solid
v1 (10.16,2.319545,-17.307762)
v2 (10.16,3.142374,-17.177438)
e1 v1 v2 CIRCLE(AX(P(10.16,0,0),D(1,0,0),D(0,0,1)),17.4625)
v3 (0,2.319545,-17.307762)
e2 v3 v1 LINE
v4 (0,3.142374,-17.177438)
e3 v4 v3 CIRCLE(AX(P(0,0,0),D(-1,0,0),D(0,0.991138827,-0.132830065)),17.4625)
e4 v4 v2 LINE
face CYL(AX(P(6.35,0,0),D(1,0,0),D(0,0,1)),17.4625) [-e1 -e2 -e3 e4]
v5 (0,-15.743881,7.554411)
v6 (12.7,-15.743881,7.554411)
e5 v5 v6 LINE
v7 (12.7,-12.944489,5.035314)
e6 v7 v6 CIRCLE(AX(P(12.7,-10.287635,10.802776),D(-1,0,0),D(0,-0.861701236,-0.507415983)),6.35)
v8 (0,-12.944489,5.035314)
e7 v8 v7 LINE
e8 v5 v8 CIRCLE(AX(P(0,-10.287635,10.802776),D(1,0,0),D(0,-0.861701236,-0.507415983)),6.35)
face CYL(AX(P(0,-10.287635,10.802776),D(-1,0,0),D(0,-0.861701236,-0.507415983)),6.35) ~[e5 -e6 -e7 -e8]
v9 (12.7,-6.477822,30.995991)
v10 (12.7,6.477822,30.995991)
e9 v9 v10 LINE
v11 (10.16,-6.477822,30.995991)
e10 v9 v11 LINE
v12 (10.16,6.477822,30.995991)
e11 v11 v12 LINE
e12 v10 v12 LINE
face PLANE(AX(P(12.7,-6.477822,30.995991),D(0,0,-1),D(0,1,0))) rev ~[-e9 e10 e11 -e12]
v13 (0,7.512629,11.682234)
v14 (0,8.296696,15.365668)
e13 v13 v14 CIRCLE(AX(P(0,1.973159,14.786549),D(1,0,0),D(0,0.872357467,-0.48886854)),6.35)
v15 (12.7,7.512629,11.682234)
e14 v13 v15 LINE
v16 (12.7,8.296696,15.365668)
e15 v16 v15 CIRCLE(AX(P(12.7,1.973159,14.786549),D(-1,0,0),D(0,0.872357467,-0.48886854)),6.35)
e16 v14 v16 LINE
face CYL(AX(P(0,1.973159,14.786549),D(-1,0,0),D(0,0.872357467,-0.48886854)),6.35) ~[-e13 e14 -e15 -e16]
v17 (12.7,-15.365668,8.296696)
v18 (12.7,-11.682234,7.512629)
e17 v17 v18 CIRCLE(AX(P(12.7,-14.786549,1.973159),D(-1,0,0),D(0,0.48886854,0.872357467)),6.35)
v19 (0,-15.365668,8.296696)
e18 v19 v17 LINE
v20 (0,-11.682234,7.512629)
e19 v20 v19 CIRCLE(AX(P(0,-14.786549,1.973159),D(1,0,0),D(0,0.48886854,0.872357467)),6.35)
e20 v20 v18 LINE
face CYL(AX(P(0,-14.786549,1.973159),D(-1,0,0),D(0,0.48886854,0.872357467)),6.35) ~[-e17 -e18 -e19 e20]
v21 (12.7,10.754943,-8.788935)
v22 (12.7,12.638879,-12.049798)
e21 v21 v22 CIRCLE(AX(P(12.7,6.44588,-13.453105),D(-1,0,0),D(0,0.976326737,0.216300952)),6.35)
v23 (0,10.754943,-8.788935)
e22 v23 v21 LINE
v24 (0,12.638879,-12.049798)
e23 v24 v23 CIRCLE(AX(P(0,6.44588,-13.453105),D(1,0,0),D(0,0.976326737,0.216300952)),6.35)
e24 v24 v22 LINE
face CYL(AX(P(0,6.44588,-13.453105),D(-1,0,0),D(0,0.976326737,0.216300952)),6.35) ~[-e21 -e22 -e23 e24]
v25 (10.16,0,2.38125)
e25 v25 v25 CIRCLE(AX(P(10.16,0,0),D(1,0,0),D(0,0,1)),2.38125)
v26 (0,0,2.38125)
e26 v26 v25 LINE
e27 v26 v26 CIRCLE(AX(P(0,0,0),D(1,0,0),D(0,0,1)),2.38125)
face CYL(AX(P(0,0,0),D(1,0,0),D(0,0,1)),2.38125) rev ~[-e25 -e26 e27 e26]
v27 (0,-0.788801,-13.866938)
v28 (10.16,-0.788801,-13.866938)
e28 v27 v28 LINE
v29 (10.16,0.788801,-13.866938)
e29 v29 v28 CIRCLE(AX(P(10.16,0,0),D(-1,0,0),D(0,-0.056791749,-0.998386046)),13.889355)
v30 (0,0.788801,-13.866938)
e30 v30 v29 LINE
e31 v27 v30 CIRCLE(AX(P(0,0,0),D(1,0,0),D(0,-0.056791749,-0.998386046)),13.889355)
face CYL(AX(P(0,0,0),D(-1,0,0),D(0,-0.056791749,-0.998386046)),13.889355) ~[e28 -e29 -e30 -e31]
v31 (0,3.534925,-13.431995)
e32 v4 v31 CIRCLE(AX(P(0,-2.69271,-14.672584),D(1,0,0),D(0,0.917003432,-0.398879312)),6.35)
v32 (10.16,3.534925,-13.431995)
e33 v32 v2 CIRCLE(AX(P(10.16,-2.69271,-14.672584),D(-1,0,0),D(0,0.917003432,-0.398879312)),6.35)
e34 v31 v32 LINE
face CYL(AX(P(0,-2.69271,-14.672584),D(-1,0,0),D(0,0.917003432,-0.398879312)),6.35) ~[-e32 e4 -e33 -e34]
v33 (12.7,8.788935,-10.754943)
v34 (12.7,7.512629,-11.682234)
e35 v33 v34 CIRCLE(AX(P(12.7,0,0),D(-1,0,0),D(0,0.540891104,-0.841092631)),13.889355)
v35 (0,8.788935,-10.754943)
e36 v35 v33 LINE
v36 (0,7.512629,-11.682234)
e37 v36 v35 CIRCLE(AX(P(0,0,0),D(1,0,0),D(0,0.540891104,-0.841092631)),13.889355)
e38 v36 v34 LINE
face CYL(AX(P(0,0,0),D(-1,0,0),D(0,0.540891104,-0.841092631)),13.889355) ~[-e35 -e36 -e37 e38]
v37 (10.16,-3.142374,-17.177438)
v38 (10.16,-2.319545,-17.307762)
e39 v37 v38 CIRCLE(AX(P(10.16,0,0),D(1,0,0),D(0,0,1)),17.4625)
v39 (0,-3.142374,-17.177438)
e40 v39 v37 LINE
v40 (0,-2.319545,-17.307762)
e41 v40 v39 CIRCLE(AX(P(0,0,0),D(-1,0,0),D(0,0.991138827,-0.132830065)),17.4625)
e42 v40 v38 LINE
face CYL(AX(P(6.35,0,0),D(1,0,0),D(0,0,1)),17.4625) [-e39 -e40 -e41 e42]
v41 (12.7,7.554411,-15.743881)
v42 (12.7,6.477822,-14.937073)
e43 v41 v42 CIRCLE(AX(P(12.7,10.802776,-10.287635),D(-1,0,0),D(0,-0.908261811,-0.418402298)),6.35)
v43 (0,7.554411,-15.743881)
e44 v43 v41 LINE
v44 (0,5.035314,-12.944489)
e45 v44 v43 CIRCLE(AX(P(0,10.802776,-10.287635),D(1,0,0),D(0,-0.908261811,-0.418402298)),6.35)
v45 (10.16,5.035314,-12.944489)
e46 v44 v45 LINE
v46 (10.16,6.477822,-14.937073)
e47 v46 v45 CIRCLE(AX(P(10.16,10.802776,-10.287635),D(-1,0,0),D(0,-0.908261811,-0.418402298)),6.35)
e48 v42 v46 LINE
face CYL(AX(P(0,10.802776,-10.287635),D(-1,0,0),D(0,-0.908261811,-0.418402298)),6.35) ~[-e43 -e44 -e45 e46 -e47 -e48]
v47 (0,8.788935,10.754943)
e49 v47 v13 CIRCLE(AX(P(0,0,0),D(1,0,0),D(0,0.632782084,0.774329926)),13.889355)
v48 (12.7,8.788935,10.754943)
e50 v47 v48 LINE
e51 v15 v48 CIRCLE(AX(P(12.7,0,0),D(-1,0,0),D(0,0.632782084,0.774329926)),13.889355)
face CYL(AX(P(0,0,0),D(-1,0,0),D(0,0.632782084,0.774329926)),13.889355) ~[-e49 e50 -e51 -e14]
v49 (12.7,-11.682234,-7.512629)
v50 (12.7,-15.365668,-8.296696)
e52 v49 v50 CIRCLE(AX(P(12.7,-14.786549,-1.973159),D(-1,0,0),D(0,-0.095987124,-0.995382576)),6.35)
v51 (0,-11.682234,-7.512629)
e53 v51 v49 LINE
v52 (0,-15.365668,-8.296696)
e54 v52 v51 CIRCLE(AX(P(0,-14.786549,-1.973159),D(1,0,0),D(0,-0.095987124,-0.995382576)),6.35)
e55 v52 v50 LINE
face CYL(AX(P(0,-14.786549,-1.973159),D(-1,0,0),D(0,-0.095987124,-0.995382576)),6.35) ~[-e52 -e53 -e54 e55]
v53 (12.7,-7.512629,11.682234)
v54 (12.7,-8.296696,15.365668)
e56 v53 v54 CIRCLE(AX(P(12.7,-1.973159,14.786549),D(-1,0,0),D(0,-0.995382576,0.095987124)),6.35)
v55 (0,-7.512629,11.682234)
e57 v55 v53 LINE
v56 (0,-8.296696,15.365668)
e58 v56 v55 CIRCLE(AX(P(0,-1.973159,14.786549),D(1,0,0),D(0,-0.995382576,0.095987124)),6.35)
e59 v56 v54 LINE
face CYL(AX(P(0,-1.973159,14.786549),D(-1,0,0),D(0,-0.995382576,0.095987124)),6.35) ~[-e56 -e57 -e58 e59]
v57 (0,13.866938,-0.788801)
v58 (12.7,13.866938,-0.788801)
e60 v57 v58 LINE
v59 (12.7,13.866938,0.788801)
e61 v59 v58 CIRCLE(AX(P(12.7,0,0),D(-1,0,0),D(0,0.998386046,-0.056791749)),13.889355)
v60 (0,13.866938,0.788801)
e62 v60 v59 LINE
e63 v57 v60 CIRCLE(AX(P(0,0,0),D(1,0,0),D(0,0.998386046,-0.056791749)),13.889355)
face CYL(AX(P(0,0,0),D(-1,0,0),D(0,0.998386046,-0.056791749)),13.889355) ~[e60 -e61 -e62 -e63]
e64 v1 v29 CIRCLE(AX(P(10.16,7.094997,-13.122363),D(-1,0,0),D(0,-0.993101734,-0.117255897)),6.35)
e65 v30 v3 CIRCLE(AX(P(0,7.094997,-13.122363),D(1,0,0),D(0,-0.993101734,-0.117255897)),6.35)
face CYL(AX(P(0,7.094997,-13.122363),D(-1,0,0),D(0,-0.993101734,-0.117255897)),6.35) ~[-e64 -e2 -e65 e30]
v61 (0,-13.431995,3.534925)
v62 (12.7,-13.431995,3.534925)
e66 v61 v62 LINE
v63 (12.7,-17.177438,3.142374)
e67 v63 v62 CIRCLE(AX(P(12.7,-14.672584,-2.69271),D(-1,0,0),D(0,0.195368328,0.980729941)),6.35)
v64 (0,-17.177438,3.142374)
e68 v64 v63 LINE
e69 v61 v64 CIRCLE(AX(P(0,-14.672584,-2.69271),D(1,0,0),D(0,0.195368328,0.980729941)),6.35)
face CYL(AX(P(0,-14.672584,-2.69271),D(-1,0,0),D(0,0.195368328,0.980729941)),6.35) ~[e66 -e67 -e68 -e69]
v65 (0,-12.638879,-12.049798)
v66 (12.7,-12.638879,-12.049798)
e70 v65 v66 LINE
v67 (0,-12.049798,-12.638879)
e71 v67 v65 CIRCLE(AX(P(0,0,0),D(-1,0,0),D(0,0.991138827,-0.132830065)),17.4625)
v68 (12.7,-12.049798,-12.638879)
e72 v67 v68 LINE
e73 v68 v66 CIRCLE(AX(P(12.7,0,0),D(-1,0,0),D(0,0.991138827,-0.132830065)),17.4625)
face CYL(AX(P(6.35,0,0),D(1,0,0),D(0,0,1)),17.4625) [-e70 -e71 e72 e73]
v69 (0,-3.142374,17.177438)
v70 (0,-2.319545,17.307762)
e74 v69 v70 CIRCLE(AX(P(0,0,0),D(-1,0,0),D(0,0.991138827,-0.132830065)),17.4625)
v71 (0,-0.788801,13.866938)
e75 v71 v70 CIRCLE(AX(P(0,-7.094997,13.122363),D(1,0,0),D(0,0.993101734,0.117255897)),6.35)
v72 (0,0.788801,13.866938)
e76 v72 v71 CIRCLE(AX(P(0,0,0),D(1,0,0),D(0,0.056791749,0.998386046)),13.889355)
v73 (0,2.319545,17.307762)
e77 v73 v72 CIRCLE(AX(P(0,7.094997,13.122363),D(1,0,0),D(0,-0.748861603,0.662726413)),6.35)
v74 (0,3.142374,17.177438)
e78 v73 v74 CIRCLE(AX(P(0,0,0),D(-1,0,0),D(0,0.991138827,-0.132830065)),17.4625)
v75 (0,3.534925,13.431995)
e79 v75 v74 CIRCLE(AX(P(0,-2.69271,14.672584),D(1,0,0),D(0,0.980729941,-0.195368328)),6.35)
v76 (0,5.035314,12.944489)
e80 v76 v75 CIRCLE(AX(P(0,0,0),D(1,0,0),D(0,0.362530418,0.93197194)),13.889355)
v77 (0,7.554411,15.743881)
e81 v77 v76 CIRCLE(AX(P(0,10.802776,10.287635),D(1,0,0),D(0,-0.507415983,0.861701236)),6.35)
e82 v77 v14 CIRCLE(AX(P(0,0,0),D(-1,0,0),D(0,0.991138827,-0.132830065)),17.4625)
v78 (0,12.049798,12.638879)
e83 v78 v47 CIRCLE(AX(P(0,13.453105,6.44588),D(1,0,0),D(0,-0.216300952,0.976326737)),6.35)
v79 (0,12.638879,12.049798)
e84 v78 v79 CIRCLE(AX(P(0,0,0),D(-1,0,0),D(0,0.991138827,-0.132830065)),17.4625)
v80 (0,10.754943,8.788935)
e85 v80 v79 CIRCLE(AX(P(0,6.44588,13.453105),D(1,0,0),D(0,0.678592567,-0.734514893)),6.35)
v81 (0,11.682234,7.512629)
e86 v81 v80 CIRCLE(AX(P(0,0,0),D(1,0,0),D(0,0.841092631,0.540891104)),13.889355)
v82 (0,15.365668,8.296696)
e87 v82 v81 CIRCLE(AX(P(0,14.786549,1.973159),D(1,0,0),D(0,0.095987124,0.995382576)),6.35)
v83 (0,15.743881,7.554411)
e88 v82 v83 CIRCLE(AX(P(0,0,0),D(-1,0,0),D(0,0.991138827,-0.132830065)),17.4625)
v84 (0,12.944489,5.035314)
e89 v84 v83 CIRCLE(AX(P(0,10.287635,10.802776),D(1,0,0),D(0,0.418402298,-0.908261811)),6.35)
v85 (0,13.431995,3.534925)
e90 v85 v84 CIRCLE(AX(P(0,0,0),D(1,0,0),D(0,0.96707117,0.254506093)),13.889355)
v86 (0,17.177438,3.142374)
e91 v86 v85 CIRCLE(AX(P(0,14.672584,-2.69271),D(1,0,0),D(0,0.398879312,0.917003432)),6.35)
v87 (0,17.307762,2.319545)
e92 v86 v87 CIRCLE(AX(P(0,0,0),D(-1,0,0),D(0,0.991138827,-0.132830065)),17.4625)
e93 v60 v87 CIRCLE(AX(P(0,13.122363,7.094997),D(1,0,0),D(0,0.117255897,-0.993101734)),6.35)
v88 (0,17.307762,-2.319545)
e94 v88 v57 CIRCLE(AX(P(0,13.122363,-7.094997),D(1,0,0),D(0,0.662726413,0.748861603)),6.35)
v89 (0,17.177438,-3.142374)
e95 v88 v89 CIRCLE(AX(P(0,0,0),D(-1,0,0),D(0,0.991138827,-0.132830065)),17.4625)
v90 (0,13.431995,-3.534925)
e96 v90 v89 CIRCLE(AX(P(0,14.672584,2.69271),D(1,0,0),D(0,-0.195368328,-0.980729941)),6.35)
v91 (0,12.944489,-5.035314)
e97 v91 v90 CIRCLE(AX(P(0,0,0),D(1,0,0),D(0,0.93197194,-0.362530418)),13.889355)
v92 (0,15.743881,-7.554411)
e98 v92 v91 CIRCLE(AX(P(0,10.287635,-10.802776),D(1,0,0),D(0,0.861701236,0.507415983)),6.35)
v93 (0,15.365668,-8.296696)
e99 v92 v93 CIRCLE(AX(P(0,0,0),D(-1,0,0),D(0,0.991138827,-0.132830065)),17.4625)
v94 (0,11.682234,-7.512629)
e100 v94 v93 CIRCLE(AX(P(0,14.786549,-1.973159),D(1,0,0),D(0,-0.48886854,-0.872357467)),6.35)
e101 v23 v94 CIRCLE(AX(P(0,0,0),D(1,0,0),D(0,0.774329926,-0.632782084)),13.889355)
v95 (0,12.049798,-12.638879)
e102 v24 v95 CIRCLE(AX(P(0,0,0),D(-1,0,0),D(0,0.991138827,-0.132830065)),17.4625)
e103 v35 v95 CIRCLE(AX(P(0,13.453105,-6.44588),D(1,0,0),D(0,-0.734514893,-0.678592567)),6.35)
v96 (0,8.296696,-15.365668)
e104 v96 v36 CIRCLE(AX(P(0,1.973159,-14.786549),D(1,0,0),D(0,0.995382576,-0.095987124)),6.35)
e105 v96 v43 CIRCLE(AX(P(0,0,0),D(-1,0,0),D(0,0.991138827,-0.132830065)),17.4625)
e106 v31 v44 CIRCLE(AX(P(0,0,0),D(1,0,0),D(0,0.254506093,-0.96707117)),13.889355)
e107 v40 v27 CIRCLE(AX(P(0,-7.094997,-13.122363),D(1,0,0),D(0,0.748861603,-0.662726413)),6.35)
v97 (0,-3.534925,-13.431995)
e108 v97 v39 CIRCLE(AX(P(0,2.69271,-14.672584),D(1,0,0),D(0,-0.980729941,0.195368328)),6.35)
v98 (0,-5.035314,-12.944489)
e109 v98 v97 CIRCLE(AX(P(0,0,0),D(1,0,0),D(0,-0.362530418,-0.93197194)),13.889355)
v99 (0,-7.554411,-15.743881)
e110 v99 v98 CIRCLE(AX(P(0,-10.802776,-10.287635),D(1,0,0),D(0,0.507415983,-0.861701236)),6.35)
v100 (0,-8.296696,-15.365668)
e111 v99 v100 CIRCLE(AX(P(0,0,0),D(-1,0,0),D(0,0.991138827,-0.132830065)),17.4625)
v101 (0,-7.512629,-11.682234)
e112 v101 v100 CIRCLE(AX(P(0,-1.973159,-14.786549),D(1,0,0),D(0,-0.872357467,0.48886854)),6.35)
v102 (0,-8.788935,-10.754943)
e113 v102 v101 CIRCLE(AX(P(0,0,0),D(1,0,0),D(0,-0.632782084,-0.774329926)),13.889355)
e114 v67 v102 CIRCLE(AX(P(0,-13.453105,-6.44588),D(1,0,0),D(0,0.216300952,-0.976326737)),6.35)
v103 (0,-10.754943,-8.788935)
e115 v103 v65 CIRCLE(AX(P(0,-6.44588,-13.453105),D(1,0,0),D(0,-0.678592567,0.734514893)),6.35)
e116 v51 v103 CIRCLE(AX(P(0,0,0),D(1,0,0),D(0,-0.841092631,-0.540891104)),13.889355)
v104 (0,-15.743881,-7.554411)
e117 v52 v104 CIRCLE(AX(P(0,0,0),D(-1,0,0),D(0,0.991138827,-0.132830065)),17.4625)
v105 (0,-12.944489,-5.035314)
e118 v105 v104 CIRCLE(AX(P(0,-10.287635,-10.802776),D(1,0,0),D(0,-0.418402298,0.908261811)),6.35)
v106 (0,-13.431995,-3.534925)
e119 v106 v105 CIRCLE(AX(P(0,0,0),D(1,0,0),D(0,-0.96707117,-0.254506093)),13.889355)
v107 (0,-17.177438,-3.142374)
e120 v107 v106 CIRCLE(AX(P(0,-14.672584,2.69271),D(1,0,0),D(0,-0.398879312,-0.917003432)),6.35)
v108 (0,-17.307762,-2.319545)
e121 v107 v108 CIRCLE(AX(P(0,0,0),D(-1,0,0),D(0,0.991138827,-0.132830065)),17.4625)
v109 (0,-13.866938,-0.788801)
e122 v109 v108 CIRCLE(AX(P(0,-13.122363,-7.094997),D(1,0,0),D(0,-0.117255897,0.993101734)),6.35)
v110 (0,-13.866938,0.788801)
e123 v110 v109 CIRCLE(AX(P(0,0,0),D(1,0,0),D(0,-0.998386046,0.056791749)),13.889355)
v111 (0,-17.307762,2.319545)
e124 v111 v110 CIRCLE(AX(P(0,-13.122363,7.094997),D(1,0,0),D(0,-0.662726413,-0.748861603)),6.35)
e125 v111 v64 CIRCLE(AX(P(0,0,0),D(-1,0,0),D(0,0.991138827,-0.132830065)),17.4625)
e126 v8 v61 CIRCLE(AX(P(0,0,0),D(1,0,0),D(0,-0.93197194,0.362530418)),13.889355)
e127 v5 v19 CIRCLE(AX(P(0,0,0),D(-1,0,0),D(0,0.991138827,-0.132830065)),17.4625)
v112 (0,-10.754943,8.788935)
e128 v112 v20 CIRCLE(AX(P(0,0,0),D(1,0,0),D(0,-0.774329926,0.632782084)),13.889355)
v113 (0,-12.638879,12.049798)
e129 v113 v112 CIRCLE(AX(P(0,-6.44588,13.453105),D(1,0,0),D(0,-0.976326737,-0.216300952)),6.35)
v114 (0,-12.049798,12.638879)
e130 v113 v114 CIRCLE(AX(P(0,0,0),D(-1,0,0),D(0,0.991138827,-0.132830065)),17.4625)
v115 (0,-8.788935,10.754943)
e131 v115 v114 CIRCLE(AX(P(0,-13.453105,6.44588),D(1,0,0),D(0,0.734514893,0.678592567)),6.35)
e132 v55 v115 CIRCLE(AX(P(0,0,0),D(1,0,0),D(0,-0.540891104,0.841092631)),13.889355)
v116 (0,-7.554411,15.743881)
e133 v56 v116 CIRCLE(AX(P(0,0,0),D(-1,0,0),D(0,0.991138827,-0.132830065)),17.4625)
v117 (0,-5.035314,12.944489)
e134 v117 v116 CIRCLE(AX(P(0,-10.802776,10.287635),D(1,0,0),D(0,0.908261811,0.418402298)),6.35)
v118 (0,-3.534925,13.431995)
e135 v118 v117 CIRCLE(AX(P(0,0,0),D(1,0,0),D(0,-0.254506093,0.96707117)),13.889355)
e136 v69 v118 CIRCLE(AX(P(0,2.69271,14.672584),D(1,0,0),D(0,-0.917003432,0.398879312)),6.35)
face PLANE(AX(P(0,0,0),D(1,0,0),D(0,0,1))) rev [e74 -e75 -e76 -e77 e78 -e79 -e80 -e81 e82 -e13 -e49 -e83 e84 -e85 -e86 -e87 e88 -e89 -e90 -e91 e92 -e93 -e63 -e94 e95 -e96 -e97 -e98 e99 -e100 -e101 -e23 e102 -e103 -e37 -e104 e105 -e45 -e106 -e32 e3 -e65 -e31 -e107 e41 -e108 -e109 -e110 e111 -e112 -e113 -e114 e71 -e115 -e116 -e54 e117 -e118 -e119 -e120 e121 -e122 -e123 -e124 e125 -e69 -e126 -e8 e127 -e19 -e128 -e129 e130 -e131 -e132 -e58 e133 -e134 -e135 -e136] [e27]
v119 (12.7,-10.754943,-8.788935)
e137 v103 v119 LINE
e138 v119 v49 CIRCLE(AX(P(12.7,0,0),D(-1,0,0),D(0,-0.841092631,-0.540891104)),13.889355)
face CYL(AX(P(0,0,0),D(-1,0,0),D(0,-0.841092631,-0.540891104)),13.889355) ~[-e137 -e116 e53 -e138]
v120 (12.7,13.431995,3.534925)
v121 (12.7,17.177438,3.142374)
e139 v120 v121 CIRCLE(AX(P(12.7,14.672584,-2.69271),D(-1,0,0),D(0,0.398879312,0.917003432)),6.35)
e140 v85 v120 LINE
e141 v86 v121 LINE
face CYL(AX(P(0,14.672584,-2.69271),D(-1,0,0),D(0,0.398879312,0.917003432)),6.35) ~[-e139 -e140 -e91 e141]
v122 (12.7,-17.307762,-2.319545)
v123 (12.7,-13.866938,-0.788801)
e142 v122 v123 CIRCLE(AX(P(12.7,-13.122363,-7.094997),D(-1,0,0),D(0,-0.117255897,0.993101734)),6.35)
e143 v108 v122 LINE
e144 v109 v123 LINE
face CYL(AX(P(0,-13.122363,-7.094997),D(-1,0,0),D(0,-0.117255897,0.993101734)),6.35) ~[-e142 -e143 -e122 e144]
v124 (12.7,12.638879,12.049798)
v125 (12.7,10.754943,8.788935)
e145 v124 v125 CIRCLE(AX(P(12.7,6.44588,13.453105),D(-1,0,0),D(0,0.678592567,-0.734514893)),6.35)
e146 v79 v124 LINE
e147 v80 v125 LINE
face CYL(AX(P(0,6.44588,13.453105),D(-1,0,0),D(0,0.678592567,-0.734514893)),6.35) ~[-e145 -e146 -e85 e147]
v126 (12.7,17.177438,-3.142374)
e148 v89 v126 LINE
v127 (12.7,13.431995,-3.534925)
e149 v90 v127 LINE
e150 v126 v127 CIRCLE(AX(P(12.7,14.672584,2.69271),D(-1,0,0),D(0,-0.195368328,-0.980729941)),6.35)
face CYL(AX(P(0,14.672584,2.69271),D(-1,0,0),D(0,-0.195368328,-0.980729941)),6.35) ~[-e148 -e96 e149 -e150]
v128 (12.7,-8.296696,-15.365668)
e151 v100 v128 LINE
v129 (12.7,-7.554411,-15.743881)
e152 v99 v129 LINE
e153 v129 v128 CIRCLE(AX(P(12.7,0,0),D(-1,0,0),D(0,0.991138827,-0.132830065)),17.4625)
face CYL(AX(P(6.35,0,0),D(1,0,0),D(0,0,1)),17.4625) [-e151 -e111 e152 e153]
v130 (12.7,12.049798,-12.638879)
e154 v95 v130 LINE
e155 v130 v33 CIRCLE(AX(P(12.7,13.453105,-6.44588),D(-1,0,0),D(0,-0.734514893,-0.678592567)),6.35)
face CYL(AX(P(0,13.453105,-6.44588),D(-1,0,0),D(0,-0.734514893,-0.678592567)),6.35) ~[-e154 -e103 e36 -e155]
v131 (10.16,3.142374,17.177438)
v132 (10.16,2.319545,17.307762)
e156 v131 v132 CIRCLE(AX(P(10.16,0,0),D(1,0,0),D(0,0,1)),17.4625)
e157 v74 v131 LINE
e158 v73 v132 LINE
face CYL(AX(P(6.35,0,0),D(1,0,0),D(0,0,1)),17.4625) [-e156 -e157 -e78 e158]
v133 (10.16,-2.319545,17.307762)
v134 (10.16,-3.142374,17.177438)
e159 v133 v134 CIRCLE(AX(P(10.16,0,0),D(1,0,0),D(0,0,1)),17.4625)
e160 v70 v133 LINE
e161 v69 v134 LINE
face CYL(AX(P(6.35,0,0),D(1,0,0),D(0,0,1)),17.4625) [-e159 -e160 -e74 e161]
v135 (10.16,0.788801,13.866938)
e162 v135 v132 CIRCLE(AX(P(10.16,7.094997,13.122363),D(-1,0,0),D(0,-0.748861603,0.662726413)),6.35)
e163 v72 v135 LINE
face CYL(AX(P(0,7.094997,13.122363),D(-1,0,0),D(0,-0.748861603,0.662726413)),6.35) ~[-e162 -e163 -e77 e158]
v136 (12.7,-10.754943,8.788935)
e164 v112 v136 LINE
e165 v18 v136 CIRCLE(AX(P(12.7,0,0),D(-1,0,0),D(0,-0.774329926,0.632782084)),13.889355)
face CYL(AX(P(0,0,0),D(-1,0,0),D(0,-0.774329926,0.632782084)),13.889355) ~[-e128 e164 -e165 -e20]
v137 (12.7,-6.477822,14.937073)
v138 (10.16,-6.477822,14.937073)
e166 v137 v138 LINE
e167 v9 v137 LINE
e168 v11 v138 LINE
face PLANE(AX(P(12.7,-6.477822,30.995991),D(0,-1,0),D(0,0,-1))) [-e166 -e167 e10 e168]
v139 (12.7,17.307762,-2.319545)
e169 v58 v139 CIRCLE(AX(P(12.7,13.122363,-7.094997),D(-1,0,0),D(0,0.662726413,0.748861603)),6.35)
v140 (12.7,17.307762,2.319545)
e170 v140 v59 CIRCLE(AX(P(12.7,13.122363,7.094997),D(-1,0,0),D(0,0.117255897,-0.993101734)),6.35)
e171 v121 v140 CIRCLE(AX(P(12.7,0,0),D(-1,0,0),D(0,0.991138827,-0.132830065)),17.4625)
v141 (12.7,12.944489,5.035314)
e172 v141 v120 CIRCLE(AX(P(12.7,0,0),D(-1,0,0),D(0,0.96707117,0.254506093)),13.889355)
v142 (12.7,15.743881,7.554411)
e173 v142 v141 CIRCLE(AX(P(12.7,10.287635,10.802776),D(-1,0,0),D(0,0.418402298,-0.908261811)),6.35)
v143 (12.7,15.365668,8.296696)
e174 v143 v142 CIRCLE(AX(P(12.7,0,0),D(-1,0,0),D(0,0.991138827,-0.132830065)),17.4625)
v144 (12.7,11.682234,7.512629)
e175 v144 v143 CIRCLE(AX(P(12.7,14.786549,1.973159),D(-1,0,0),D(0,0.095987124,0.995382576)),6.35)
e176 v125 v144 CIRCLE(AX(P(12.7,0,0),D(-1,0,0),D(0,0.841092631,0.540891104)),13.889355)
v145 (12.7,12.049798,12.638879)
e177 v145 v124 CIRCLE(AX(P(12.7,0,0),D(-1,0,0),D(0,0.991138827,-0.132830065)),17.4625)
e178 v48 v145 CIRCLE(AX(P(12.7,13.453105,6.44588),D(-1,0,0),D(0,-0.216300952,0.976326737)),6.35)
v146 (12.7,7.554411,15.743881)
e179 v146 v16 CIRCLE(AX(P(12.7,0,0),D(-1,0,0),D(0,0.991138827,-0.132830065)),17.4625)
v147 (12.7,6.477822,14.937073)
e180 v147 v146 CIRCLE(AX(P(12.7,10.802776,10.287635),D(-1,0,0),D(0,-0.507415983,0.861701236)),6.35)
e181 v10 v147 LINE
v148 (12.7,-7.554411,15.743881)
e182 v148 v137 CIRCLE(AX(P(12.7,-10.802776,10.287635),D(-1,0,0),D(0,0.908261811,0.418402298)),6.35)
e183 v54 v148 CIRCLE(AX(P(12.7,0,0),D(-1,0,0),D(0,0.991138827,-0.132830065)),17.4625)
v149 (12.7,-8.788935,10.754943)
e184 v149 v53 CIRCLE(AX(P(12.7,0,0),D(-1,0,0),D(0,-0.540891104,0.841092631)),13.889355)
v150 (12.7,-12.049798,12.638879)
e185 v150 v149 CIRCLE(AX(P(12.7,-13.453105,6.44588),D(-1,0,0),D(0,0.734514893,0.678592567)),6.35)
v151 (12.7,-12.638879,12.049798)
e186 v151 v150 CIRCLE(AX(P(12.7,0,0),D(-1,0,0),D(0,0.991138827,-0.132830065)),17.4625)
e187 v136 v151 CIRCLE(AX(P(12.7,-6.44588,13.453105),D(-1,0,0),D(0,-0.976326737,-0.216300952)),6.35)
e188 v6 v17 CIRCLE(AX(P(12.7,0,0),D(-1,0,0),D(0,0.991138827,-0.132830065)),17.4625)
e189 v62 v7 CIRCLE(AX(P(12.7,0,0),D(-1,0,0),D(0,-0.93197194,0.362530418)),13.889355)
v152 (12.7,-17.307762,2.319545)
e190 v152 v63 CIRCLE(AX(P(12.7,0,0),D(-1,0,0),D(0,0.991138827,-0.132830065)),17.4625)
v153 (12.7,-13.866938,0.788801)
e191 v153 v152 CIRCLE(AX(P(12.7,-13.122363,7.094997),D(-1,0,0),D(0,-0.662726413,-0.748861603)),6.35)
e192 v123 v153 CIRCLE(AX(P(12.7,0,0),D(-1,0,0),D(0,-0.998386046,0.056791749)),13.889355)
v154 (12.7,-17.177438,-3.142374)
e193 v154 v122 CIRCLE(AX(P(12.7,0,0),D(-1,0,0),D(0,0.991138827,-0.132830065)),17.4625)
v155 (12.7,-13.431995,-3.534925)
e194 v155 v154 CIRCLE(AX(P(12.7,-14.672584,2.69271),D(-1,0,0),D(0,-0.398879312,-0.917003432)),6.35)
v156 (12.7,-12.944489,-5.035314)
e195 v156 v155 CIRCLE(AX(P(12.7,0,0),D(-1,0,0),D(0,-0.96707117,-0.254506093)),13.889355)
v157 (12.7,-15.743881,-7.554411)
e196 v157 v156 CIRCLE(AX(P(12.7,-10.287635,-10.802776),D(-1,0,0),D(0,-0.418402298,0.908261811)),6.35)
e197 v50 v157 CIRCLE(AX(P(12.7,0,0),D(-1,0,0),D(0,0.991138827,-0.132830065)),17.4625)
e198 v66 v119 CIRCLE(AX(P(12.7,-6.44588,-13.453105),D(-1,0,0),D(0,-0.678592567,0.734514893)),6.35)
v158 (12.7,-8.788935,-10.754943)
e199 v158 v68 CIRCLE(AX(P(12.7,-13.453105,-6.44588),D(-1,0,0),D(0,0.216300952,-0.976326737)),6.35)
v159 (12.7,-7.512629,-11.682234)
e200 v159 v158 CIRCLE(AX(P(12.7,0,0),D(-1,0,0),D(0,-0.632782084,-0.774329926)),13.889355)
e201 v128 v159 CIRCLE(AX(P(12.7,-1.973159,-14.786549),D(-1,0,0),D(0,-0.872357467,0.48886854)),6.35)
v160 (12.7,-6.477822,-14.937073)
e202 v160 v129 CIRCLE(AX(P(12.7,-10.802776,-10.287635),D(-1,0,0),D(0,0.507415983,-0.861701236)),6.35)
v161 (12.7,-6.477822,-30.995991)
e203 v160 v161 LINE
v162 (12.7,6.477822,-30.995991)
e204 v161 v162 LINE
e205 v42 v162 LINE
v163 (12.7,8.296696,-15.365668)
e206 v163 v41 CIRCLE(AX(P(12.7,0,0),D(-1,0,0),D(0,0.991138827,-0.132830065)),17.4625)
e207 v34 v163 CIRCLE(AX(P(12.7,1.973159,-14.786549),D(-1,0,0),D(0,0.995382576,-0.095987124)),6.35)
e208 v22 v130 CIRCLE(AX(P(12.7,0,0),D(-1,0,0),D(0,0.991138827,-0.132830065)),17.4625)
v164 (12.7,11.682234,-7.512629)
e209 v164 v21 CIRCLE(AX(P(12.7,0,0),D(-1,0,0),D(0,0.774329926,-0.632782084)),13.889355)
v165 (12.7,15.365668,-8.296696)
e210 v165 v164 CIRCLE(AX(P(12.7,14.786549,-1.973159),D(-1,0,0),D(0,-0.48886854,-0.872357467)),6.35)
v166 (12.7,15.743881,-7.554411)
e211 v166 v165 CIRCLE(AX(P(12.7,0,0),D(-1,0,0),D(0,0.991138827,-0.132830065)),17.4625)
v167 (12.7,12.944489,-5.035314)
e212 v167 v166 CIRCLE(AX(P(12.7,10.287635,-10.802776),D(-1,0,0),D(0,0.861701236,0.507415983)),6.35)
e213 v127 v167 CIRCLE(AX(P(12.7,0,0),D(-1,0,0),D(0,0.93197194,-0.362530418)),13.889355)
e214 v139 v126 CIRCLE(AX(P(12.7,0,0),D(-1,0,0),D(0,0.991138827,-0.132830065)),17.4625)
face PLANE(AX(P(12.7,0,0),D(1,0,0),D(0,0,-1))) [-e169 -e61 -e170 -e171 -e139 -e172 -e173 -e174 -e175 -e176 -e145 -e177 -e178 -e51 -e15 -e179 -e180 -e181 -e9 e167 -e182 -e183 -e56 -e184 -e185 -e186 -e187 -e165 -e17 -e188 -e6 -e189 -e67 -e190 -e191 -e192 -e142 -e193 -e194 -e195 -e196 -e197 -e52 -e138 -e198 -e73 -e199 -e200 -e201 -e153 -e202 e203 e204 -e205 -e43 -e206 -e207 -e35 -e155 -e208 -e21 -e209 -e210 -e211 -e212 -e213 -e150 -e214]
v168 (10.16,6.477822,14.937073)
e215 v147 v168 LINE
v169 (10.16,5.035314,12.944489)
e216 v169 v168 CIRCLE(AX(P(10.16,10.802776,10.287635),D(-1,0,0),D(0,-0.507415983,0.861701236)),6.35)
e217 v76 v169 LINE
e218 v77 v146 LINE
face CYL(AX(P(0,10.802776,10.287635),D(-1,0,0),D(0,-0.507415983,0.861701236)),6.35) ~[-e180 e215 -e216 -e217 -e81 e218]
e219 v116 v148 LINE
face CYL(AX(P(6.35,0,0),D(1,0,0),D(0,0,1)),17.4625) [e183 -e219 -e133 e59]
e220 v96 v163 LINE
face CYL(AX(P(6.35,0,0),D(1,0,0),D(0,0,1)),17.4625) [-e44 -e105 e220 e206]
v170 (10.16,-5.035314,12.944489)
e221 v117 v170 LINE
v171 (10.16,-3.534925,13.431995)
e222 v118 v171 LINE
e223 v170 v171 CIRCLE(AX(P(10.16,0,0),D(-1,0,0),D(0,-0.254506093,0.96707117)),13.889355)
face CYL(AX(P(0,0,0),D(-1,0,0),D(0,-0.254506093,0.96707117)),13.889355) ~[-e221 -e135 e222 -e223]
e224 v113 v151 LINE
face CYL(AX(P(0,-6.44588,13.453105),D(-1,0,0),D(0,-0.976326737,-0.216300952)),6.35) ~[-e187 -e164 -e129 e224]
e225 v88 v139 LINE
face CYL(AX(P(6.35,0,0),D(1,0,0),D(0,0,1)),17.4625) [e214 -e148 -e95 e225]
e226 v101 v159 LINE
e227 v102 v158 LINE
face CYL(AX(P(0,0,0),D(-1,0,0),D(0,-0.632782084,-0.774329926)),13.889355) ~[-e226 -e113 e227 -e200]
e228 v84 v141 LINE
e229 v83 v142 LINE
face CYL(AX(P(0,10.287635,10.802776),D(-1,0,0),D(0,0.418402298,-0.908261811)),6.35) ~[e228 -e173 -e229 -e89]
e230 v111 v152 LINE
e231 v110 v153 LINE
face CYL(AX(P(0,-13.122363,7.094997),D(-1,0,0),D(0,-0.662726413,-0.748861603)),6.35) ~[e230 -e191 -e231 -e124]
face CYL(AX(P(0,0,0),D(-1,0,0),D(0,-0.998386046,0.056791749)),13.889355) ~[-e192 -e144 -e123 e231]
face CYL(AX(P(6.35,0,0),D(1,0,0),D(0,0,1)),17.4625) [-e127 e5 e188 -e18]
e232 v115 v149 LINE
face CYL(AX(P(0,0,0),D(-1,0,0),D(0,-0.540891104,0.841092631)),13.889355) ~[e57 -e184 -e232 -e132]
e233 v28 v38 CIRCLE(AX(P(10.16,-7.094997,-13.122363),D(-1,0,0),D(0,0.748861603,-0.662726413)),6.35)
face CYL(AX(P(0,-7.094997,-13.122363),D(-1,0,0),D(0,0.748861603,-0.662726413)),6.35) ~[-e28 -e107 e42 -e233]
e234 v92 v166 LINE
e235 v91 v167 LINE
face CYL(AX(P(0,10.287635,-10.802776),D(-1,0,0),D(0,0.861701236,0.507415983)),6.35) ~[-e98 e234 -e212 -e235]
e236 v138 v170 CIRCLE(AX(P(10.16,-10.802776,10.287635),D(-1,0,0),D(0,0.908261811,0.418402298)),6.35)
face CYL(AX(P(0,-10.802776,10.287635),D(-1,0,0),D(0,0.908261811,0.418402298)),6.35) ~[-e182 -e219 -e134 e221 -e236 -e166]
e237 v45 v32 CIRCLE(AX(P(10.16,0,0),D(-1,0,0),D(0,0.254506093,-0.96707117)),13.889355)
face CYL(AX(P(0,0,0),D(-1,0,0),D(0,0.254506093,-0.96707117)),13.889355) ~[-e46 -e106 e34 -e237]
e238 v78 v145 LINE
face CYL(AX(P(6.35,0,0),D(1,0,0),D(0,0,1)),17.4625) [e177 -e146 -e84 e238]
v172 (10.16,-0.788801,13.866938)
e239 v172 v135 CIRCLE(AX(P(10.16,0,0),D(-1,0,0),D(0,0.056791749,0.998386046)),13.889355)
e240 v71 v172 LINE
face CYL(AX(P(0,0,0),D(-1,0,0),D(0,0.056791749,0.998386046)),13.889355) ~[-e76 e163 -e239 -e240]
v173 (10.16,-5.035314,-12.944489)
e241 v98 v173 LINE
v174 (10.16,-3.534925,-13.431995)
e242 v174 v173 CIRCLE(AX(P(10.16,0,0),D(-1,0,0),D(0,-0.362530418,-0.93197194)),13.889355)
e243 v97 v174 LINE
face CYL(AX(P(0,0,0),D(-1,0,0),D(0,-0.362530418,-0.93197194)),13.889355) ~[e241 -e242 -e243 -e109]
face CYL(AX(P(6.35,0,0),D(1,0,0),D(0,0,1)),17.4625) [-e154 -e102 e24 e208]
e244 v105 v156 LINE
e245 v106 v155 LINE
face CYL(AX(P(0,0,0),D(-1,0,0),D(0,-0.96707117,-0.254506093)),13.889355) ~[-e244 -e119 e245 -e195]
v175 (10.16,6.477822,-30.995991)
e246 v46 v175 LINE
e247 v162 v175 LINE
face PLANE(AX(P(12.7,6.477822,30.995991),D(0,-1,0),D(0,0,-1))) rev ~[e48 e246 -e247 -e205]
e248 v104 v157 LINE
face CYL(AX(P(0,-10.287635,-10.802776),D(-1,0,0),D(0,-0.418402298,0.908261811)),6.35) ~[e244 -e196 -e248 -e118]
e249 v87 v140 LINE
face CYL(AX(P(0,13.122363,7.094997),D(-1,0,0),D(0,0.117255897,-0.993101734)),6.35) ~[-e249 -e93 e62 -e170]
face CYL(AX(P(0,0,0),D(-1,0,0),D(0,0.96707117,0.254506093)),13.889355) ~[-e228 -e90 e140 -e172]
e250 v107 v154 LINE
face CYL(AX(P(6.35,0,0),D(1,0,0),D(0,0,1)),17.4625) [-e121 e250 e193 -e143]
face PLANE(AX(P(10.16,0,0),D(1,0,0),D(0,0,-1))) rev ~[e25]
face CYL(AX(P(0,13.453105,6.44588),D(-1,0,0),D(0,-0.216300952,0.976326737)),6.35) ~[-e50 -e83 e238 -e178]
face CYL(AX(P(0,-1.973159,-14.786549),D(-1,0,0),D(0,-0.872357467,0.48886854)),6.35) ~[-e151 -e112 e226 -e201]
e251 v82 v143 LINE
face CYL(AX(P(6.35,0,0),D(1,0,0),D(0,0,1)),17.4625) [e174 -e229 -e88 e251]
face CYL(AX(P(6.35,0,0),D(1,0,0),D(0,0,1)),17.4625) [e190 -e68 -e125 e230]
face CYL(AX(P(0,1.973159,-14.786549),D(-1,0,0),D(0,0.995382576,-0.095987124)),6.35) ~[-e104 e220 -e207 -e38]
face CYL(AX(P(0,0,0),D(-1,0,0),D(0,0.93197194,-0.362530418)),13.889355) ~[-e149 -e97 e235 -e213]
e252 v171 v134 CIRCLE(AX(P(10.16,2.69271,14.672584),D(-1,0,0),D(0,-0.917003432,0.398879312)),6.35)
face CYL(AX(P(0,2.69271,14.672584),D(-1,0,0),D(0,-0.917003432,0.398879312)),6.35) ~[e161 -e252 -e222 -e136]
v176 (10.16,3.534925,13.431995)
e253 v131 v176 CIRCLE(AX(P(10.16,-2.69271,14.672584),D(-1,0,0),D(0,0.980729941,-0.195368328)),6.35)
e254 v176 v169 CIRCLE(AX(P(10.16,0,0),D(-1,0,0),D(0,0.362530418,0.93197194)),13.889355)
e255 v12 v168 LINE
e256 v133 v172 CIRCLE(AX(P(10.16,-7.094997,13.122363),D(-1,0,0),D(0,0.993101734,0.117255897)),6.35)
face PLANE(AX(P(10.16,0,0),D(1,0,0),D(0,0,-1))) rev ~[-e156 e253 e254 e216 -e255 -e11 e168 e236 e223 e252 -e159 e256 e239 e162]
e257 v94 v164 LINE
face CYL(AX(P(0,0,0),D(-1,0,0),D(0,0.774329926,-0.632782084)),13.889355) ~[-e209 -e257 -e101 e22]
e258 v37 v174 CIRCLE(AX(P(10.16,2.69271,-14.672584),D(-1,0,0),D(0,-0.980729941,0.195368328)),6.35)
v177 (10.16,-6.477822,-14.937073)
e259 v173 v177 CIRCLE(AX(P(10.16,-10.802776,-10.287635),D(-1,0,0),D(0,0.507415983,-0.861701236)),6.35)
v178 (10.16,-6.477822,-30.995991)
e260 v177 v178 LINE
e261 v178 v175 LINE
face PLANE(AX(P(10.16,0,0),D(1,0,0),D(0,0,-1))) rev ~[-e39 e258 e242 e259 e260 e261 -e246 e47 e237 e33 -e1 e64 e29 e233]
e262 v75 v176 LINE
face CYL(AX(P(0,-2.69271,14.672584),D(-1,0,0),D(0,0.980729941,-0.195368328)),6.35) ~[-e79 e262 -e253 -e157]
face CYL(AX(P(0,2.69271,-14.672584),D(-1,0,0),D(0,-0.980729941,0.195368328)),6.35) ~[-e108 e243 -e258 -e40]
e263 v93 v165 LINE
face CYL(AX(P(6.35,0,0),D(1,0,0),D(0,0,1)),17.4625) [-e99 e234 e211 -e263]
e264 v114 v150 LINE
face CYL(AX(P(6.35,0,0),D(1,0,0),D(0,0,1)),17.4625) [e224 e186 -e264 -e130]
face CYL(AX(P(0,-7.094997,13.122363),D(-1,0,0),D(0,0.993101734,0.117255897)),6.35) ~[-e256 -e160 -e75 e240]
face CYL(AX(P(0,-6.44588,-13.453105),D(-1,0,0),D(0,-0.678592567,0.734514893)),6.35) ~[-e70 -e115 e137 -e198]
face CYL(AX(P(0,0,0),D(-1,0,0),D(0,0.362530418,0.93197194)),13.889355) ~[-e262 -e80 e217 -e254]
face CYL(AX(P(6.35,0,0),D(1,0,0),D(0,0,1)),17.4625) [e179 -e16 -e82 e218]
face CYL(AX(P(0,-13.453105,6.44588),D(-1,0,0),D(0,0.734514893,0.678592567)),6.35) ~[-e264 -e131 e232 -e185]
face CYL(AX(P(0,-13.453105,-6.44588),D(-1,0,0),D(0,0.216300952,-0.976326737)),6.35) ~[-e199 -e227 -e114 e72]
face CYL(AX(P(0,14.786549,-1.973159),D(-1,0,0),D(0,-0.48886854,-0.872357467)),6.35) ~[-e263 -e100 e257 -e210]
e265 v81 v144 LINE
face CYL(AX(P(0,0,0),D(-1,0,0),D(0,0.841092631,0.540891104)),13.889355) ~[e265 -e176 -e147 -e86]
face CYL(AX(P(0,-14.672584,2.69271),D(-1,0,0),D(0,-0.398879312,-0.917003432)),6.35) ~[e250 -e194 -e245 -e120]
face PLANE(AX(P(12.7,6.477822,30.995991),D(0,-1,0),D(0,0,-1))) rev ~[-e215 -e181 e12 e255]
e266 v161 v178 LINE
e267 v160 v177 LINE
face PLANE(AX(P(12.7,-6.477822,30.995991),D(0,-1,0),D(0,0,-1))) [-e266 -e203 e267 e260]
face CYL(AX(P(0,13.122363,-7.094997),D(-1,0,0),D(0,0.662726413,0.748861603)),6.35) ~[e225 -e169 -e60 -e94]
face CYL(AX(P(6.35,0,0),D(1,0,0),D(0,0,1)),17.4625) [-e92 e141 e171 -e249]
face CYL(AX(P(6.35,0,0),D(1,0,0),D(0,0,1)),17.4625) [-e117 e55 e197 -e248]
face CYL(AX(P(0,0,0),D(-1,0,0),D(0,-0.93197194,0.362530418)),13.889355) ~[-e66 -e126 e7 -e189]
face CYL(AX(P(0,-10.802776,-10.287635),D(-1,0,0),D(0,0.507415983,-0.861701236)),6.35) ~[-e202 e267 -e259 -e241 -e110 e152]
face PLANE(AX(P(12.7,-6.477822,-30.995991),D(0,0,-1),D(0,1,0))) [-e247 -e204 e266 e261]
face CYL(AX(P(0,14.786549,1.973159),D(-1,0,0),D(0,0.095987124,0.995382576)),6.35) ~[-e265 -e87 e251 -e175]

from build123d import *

# Parameters (mm, degrees)
BASPROSKE_W         = 12.7
BASPROSKE_H         = 17.4625
TOOTHCUT_DEPTH      = 28.769908399
TEETHCUTS_COUNT     = 20
TEETHCUTS_ANGLE     = 342
BORSKE_R            = 2.38125
BORE_DEPTH          = 50.8000508
SKETCH1_W           = 61.991981732
SKETCH1_H           = 12.955644482
BOSS_EXTRUDE1_DEPTH = 2.54


with BuildPart() as part:
    # BasProSke → Base-Revolve (revolve)
    with BuildSketch(Plane(origin=(0, 0, 0), x_dir=(1, 0, 0), z_dir=(0, 1, 0)), mode=Mode.PRIVATE) as base_revolve_sk:
        with Locations((6.35, 8.73125)):
            Rectangle(BASPROSKE_W, BASPROSKE_H)
    revolve(base_revolve_sk.sketch.rotate(Axis((-10, 0, 0), (1, 0, 0)), 180), axis=Axis((-10, 0, 0), (1, 0, 0)))

    # TooCutSke → ToothCut (cut, through all)
    with BuildSketch(Plane(origin=(0, 0, 0), x_dir=(0, 0, -1), z_dir=(1, 0, 0))):
        with BuildLine():
            ThreePointArc((0.788800759, 13.866938223), (0, 13.889355), (-0.788800759, 13.866938223))
            ThreePointArc((-0.788800759, 13.866938223), (-1.299448137, 15.717380814), (-2.339725589, 17.330675999))
            ThreePointArc((-2.339725589, 17.330675999), (0, 17.4879), (2.339725589, 17.330675999))
            ThreePointArc((2.339725589, 17.330675999), (1.299448137, 15.717380814), (0.788800759, 13.866938223))
        make_face()
    toothcut = extrude(amount=TOOTHCUT_DEPTH, mode=Mode.SUBTRACT)

    # TeethCuts: ToothCut ×20 about axis
    teethcuts_axis = Axis((-10, 0, 0), (1, 0, 0))
    for i in range(1, TEETHCUTS_COUNT):
        add(toothcut.rotate(teethcuts_axis, i * TEETHCUTS_ANGLE / (TEETHCUTS_COUNT - 1)), mode=Mode.SUBTRACT)

    # BorSke → Bore (cut, symmetric)
    with BuildSketch(Plane(origin=(0, 0, 0), x_dir=(0, 0, -1), z_dir=(1, 0, 0))):
        with Locations(Location((0, 0, 0), (0, 0, 180))):
            Circle(BORSKE_R)
    extrude(amount=BORE_DEPTH, both=True, mode=Mode.SUBTRACT)

    # Sketch1 → Boss-Extrude1 (add)
    with BuildSketch(Plane(origin=(12.7, 0, 0), x_dir=(0, 0, -1), z_dir=(1, 0, 0))):
        Rectangle(SKETCH1_W, SKETCH1_H)
    extrude(amount=-BOSS_EXTRUDE1_DEPTH)


solid = part.part
